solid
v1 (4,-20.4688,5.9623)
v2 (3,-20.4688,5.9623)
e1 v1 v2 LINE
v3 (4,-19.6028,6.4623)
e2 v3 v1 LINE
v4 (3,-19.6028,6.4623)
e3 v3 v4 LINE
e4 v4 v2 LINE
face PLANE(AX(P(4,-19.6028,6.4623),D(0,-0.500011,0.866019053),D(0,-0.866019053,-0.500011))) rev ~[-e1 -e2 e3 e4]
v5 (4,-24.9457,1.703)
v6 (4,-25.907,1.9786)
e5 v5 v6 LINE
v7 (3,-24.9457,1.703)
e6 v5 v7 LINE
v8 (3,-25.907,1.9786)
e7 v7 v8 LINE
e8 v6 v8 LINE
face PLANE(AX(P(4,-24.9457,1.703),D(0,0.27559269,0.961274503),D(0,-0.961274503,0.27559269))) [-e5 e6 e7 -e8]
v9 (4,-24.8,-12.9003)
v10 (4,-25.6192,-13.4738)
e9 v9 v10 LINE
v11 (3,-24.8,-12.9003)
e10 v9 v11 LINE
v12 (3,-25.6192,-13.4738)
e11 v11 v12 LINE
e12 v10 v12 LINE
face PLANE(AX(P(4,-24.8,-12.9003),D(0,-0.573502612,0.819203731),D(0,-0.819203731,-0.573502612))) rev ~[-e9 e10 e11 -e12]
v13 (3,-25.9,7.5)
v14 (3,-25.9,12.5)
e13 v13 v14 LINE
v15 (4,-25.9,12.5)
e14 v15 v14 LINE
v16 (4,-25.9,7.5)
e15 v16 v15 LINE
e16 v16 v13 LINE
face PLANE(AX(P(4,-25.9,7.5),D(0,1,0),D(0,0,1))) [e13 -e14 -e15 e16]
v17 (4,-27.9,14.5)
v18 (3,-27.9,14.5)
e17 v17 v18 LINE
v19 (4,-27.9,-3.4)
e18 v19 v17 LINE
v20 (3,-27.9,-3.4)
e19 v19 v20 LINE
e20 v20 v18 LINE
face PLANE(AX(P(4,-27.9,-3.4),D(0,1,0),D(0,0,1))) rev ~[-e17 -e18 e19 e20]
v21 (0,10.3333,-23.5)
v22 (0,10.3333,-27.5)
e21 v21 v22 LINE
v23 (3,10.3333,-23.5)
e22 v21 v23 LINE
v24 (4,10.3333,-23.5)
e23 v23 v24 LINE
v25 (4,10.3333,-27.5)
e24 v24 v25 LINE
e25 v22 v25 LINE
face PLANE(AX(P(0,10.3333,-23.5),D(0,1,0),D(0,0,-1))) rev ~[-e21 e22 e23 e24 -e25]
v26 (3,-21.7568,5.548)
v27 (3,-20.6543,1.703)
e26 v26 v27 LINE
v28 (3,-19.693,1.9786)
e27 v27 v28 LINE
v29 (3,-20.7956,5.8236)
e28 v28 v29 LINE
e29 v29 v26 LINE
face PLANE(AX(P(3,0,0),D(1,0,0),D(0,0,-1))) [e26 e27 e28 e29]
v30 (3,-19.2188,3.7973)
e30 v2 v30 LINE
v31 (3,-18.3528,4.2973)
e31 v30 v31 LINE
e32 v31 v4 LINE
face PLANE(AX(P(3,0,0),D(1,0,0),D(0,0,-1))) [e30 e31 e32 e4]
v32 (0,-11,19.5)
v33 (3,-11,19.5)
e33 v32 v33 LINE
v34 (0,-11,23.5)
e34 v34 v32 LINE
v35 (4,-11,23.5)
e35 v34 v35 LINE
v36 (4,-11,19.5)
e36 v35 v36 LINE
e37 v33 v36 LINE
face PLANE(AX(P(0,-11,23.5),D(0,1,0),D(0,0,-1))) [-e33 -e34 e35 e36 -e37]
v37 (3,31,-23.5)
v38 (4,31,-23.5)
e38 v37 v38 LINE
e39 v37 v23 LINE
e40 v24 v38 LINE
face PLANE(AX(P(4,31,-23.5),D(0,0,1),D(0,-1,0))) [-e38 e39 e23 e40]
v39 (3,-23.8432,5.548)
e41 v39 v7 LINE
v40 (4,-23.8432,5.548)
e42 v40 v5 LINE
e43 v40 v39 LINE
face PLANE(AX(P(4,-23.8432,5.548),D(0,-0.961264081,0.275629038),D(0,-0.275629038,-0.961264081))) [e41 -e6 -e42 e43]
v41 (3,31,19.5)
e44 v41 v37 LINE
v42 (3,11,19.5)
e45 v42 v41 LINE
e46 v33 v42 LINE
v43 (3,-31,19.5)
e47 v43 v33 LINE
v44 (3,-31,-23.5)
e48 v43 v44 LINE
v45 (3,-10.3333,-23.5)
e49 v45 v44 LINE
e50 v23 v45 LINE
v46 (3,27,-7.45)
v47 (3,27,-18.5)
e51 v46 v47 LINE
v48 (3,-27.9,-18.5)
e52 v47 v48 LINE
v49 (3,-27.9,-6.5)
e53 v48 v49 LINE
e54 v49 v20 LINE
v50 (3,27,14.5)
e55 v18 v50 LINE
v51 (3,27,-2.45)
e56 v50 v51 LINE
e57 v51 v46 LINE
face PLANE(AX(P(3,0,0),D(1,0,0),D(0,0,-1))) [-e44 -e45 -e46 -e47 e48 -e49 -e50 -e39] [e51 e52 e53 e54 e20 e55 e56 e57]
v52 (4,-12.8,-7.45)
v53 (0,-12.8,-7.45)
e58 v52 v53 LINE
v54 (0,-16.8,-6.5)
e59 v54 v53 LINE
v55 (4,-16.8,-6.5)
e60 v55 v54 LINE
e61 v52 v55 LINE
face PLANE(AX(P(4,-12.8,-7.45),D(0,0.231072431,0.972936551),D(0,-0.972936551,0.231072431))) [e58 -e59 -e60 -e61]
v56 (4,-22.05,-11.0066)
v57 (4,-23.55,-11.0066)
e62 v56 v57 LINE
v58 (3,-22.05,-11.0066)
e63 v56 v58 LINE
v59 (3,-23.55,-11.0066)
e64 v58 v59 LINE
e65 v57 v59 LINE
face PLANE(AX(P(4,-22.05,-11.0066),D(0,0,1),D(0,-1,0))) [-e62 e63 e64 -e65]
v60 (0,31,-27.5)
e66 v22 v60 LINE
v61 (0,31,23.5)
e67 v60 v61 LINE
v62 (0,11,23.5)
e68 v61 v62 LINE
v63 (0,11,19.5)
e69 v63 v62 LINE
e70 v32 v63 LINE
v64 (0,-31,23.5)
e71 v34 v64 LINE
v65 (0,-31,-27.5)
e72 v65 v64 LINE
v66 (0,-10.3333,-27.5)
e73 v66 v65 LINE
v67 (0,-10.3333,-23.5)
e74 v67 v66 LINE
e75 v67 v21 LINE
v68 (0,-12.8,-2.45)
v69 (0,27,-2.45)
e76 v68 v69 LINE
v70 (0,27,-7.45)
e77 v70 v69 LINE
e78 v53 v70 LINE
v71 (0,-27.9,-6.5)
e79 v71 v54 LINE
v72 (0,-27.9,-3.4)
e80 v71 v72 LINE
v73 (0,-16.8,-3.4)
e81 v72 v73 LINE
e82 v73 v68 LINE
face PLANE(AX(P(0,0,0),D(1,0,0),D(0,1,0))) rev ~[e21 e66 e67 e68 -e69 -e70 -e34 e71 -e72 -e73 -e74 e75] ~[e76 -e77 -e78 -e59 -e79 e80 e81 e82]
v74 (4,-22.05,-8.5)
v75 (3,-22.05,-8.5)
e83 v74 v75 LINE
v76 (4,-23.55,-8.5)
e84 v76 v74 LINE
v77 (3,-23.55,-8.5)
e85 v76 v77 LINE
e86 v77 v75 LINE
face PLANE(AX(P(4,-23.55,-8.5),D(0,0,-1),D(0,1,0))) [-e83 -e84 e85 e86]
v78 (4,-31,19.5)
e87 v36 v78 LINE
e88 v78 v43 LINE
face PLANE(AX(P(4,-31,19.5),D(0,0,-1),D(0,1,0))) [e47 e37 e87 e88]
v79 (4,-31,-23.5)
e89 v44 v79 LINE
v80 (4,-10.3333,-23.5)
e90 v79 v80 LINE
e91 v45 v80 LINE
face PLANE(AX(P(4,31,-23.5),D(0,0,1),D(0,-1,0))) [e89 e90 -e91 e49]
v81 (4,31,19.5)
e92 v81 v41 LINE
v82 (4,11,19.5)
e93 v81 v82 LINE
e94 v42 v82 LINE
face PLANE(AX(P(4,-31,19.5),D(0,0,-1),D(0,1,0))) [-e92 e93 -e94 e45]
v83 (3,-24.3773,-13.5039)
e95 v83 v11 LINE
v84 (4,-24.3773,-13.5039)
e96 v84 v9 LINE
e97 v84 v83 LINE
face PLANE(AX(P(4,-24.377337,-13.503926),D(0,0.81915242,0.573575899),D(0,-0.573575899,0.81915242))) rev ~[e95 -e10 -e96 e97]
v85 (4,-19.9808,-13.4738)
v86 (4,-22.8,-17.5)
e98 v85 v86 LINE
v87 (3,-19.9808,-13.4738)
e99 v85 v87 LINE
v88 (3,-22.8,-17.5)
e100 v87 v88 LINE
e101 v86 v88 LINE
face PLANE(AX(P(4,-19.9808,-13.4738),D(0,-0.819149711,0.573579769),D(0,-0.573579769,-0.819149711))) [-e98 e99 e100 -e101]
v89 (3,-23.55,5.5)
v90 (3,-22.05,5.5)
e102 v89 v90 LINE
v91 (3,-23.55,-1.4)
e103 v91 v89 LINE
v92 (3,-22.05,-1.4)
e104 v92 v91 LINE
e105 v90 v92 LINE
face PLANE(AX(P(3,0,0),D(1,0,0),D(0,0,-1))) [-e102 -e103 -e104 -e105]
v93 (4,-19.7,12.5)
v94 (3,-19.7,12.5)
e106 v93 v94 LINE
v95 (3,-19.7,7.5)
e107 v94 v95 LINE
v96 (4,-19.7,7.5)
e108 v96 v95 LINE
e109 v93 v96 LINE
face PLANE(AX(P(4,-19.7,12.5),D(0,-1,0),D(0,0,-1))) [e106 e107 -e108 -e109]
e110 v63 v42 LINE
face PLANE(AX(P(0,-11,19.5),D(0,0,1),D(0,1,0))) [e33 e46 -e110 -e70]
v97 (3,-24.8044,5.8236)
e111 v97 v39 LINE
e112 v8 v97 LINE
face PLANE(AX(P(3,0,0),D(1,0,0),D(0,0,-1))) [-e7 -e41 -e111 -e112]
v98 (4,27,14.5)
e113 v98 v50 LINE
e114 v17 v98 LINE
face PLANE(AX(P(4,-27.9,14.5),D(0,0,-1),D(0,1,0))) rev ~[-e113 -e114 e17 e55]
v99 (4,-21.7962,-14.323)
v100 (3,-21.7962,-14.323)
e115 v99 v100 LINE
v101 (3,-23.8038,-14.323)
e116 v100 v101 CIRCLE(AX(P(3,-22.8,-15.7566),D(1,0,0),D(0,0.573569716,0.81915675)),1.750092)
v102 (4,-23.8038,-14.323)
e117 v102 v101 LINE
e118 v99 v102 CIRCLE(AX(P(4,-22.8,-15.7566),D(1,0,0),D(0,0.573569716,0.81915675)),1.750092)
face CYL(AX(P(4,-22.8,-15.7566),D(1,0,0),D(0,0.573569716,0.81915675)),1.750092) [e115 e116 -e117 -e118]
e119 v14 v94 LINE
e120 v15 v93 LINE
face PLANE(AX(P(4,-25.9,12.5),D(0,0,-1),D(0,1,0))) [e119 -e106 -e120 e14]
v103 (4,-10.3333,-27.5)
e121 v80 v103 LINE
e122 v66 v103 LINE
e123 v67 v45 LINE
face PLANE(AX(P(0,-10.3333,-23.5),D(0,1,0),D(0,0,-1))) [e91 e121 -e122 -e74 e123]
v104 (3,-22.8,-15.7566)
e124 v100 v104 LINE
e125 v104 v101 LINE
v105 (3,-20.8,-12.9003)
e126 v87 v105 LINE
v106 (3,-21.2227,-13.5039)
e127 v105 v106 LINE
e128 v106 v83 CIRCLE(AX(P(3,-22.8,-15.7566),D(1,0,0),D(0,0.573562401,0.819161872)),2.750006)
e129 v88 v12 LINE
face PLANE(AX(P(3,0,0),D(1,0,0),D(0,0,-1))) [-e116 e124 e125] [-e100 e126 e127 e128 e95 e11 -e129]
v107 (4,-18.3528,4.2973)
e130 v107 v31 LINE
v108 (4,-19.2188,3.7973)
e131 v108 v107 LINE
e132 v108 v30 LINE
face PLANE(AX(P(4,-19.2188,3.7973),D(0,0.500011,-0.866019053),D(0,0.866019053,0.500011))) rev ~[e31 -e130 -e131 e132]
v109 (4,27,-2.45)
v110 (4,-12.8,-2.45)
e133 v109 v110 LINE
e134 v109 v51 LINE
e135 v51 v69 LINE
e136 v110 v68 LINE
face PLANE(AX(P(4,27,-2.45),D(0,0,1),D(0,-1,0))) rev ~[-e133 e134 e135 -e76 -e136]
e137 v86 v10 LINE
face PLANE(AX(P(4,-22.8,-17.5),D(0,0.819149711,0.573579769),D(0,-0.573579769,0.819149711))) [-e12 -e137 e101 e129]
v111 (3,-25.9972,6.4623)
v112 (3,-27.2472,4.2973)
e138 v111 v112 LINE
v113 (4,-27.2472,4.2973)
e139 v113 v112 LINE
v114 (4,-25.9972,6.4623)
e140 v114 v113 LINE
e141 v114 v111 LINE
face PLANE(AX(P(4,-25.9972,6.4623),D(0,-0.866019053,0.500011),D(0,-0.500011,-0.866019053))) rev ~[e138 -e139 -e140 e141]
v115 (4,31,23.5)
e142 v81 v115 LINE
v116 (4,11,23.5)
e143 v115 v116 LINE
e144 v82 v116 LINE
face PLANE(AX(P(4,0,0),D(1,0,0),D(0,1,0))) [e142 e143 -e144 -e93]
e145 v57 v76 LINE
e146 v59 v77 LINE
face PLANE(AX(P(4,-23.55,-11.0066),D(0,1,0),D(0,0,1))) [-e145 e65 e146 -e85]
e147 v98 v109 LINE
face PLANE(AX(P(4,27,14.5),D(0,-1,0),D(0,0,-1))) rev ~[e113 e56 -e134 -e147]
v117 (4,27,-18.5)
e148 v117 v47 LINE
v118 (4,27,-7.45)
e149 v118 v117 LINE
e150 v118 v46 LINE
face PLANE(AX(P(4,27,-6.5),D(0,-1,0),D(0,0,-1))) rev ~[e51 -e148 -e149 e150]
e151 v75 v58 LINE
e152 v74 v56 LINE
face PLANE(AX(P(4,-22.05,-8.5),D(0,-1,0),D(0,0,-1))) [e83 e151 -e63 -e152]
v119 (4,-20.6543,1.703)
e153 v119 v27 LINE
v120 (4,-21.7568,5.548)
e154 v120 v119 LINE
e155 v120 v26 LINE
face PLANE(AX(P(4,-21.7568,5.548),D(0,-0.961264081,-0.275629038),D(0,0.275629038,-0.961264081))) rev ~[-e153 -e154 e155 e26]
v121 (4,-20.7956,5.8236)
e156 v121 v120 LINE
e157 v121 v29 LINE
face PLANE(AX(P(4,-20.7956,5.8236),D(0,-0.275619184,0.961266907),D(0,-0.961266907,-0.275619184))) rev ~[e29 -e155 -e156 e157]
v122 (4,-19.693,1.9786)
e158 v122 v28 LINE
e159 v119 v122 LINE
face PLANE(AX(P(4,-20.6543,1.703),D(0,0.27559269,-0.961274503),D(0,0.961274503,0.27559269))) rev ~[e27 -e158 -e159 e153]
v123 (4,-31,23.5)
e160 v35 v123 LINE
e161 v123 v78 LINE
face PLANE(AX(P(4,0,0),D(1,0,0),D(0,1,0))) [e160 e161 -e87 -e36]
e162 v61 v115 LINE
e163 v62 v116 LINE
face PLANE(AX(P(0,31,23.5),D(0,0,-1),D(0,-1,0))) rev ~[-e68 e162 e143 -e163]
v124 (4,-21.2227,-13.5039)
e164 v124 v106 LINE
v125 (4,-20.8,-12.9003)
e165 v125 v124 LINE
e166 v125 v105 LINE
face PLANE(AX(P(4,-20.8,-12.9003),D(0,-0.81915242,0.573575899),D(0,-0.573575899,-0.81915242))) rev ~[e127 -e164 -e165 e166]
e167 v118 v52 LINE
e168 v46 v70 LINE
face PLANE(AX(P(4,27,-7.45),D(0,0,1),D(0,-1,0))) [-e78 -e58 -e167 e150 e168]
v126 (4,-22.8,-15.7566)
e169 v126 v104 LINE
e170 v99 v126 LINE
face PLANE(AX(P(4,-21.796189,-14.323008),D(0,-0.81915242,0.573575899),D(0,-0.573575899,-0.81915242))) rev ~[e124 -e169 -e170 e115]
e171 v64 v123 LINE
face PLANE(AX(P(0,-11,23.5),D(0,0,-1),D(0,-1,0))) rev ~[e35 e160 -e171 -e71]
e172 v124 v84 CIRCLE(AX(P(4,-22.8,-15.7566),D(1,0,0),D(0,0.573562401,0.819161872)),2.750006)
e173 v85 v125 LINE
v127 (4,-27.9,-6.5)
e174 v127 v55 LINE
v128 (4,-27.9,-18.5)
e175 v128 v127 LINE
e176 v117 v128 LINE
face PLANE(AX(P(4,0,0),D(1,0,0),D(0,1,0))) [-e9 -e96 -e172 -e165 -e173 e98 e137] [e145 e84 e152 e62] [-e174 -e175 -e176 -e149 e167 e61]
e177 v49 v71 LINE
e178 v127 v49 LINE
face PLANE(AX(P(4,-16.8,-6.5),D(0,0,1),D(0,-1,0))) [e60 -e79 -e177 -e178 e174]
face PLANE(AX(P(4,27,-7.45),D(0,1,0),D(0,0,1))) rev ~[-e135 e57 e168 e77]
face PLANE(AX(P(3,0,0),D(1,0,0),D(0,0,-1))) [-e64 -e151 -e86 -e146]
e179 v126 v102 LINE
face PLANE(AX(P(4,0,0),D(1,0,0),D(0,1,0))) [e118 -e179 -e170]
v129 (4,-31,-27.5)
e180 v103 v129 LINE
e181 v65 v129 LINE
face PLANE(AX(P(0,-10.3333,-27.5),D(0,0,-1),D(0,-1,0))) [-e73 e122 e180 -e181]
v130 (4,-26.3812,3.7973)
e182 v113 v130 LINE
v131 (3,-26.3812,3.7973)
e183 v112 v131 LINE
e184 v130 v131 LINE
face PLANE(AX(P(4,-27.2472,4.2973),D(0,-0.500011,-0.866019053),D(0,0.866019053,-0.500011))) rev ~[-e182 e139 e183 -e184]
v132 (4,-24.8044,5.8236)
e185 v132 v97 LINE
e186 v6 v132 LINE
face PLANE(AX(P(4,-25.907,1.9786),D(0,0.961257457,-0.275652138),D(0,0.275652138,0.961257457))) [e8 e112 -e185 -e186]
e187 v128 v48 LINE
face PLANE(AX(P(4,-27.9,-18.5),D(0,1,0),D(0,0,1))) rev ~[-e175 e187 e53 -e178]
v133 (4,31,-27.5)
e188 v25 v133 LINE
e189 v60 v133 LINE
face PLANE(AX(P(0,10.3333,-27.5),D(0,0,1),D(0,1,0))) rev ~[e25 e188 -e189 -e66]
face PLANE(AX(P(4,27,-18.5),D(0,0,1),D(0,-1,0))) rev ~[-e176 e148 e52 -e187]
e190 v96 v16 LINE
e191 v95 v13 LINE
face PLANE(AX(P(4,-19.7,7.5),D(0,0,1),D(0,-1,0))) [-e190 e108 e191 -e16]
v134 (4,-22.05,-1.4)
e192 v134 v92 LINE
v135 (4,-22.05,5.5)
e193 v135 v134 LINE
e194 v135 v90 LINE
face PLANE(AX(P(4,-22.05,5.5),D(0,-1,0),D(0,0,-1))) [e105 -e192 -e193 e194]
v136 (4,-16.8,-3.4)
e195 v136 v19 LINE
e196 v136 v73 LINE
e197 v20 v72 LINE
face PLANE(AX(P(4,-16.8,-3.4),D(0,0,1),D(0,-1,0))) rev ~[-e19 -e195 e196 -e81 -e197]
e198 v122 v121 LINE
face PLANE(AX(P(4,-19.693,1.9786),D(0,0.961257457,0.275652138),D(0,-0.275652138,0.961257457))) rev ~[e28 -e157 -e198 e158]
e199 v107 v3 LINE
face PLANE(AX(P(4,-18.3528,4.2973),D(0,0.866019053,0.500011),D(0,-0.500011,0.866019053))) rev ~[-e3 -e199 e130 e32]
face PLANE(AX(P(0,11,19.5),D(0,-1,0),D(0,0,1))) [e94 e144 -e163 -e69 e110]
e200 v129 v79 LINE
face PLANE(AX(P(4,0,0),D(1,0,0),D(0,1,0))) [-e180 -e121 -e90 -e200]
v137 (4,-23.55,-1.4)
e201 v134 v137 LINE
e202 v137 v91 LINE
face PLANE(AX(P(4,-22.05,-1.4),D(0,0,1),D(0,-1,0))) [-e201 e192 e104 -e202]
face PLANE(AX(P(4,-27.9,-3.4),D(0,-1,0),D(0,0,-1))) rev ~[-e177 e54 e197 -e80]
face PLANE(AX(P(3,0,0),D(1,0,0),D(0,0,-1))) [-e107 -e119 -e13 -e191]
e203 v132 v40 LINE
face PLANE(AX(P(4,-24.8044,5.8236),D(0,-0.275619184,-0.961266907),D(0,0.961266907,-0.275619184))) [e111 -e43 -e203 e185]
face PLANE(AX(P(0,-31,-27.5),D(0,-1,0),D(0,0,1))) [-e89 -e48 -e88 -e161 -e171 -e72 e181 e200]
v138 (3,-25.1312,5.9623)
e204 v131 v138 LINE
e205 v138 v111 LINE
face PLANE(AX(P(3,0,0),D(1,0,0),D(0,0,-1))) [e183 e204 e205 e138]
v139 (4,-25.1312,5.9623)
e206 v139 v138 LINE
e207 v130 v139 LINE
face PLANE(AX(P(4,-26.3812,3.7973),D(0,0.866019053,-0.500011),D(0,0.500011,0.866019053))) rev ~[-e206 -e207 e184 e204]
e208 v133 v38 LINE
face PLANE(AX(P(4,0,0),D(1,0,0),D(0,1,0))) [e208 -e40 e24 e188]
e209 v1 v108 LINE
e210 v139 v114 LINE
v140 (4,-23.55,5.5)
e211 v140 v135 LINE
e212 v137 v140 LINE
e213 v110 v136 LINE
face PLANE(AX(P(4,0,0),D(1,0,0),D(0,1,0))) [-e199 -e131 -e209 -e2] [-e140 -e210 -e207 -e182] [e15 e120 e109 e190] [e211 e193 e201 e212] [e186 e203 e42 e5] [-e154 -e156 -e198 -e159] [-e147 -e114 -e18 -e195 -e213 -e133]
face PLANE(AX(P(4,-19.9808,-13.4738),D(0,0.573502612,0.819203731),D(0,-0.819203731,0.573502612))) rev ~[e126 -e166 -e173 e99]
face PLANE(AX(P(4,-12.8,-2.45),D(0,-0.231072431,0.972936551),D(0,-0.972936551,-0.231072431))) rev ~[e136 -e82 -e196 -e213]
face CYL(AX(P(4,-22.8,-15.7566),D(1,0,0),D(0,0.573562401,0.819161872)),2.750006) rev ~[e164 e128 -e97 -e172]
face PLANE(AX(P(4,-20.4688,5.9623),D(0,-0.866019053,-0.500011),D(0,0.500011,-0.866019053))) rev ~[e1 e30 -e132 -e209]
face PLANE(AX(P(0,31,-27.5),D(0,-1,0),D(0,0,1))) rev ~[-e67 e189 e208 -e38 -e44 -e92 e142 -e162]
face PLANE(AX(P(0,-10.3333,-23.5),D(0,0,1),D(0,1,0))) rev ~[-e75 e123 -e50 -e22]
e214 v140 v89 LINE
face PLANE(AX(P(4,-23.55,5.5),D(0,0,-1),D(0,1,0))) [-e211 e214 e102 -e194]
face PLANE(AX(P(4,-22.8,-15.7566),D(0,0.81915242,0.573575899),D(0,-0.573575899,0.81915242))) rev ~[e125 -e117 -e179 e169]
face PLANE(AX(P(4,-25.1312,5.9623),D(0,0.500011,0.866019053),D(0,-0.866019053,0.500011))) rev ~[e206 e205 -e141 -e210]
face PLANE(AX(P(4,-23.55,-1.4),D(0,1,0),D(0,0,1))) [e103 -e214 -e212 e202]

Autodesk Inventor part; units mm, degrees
ref_plane "YZ Plane" through (0, 0, 0) normal (1, 0, 0) x (0, 1, 0)
ref_plane "XZ Plane" through (0, 0, 0) normal (0, 1, 0) x (-1, 0, 0)
ref_plane "XY Plane" through (0, 0, 0) normal (0, 0, 1) x (1, 0, 0)
sketch "Sketch1" plane through (0, 0, 0) normal (1, 0, 0) x (0, 1, 0)
  line L0 (-31, -23.5) -> (-10.3333, -23.5) construction
  line L1 (31, -23.5) -> (31, 23.5)
  line L2 (31, 23.5) -> (11, 23.5)
  line L3 (-31, 23.5) -> (-31, -23.5)
  line L4 (-31, -23.5) -> (31, 23.5) construction
  line L5 (31, -23.5) -> (-31, 23.5) construction
  line L6 (-11, 23.5) -> (-11, 19.5)
  line L7 (-11, 19.5) -> (11, 19.5)
  line L8 (11, 19.5) -> (11, 23.5)
  line L9 (11, 23.5) -> (-11, 23.5) construction
  line L10 (-11, 23.5) -> (-31, 23.5)
  line L11 (31, -23.5) -> (10.3333, -23.5) construction
  line L12 (10.3333, -23.5) -> (10.3333, -27.5)
  line L13 (10.3333, -27.5) -> (31, -27.5)
  line L14 (31, -27.5) -> (31, -23.5)
  line L15 (-31, -23.5) -> (-10.3333, -23.5) construction
  line L16 (-10.3333, -23.5) -> (-10.3333, -27.5)
  line L17 (-10.3333, -27.5) -> (-31, -27.5)
  line L18 (-31, -27.5) -> (-31, -23.5)
  line L19 (10.3333, -23.5) -> (31, -23.5) construction
  line L20 (-10.3333, -23.5) -> (10.3333, -23.5)
  point P0 (0, 0)
  point P1 (11, 21.5)
  dimension "d0" = 62
  dimension "d1" = 47
  dimension "d2" = 20
  dimension "d3" = 4
  dimension "d5" = 4
extrude "Outline" add sketch "Sketch1" along normal blind 4
sketch "Sketch2" plane through (4, 0, 0) normal (1, 0, 0) x (0, 0, -1)
  line L0 (3.4, 27) -> (3.4, -27.9)
  line L1 (3.4, -27.9) -> (6.5, -27.9)
  line L2 (6.5, -27.9) -> (6.5, 27)
  line L3 (6.5, 27) -> (3.4, 27)
  line L4 (-14.5, -0.45) -> (-5.55, -0.45) construction
  line L5 (-5.55, -0.45) -> (3.4, -0.45) construction
  line L6 (18.5, -0.45) -> (6.5, -0.45) construction
  line L7 (-19.5, 31) -> (23.5, 31)
  line L8 (23.5, 31) -> (23.5, -31)
  line L9 (-19.5, -31) -> (-19.5, 31)
  line L10 (-14.5, 27) -> (18.5, 27)
  line L11 (18.5, 27) -> (18.5, -27.9)
  line L12 (18.5, -27.9) -> (-14.5, -27.9)
  line L13 (-14.5, -27.9) -> (-14.5, 27)
  line L14 (-12.5, -19.7) -> (-7.5, -19.7)
  line L15 (-7.5, -19.7) -> (-7.5, -25.9)
  line L16 (-7.5, -25.9) -> (-12.5, -25.9)
  line L17 (-12.5, -25.9) -> (-12.5, -19.7)
  line L18 (-5.5, -22.05) -> (1.4, -22.05)
  line L19 (1.4, -22.05) -> (1.4, -23.55)
  line L20 (1.4, -23.55) -> (-5.5, -23.55)
  line L21 (-5.5, -23.55) -> (-5.5, -22.05)
  line L22 (13.4738, -19.9808) -> (17.5, -22.8)
  line L23 (17.5, -22.8) -> (13.4738, -25.6192)
  line L24 (13.4738, -19.9808) -> (12.9003, -20.8)
  line L25 (12.9003, -20.8) -> (15.7566, -22.8)
  line L26 (15.7566, -22.8) -> (12.9003, -24.8)
  line L27 (12.9003, -24.8) -> (13.4738, -25.6192)
  line L28 (-12.5, -22.8) -> (15.7566, -22.8) construction
  arc A0 (13.5039, -21.2227) -> (13.5039, -24.3773) centre (15.7566, -22.8) ccw
  arc A1 (14.323, -21.7962) -> (14.323, -23.8038) centre (15.7566, -22.8) ccw
  line L29 (8.5, -22.05) -> (11.0066, -22.05)
  line L30 (11.0066, -22.05) -> (11.0066, -23.55)
  line L31 (11.0066, -23.55) -> (8.5, -23.55)
  line L32 (8.5, -23.55) -> (8.5, -22.05)
  line L33 (-5.8236, -20.7956) -> (-5.548, -21.7568)
  line L34 (-5.548, -21.7568) -> (-1.703, -20.6543)
  line L35 (-1.703, -20.6543) -> (-1.9786, -19.693)
  line L36 (-1.9786, -19.693) -> (-5.8236, -20.7956)
  line L37 (-5.548, -23.8432) -> (-1.703, -24.9457)
  line L38 (-1.703, -24.9457) -> (-1.9786, -25.907)
  line L39 (-1.9786, -25.907) -> (-5.8236, -24.8044)
  line L40 (-5.8236, -24.8044) -> (-5.548, -23.8432)
  circle A2 centre (-11, -22.8) radius 5.5509 construction
  line L41 (-6.4623, -19.6028) -> (-5.9623, -20.4688)
  line L42 (-5.9623, -20.4688) -> (-3.7973, -19.2188)
  line L43 (-3.7973, -19.2188) -> (-4.2973, -18.3528)
  line L44 (-4.2973, -18.3528) -> (-6.4623, -19.6028)
  line L45 (-5.9623, -25.1312) -> (-6.4623, -25.9972)
  line L46 (-6.4623, -25.9972) -> (-4.2973, -27.2472)
  line L47 (-4.2973, -27.2472) -> (-3.7973, -26.3812)
  line L48 (-3.7973, -26.3812) -> (-5.9623, -25.1312)
  line L49 (23.5, 10.3333) -> (27.5, 10.3333) projected
  line L50 (27.5, 10.3333) -> (27.5, 31) projected
  line L51 (27.5, 31) -> (-23.5, 31) projected
  line L52 (-23.5, 31) -> (-23.5, 11) projected
  line L53 (-23.5, 11) -> (-19.5, 11) projected
  line L54 (-19.5, 11) -> (-19.5, -11) projected
  line L55 (-19.5, -11) -> (-23.5, -11) projected
  line L56 (-23.5, -11) -> (-23.5, -31) projected
  line L57 (-23.5, -31) -> (27.5, -31) projected
  line L58 (27.5, -31) -> (27.5, -10.3333) projected
  line L59 (27.5, -10.3333) -> (23.5, -10.3333) projected
  line L60 (23.5, -10.3333) -> (23.5, 10.3333) projected
  point P0 (0, 0)
  point P1 (-7.5, -22.8)
  point P2 (-5.5, -22.8)
  point P3 (13.0066, -22.8)
  point P4 (6.5, 27)
  point P5 (3.4, 27)
  dimension "d14" = 3.1
  dimension "d17" = 5
  dimension "d19" = 5
  dimension "d22" = 35
  dimension "d23" = 35
  dimension "d24" = 4
  dimension "d25" = 1
  dimension "d26" = 1
  dimension "d27" = 2.75
  dimension "d29" = 1
  dimension "d30" = 1.5
  dimension "d31" = 2
  dimension "d32" = 2
  dimension "d33" = 2
  dimension "d34" = 2
  dimension "d35" = 2
  dimension "d36" = 5
  dimension "d37" = 2
  dimension "d38" = 1
  dimension "d39" = 1
  dimension "d42" = 3.5
  dimension "d43" = 16
  dimension "d44" = 16
  dimension "d45" = 4
  dimension "d47" = 2.5
  dimension "d48" = 1
  dimension "d49" = 14
  dimension "d50" = 14
  dimension "d51" = 1
  dimension "d52" = 2.5
  dimension "d62" = 12
  dimension "d65" = 6.2
  dimension "d66" = 4
  dimension "d67" = 3.1
extrude "Engravings" cut sketch "Sketch2" against normal blind 1 contours L3 L2 L1 L0 | L7 L8 L57 L9 | L14 L15 L16 L17 | L18 L19 L20 L21 | L22 L23 L27 L26 L25 L24 | L25 A1 L26 A0 | L29 L30 L31 L32 | L36 L35 L34 L33 | L37 L38 L39 L40 | L44 L43 L42 L41 | L48 L47 L46 L45
sketch "Sketch3" plane through (4, 0, 0) normal (1, 0, 0) x (0, 0, -1)
  line L0 (-7.5, -19.7) -> (-7.5, -25.9) projected
  line L1 (-7.5, -25.9) -> (-12.5, -25.9) projected
  line L2 (-12.5, -25.9) -> (-12.5, -19.7) projected
  line L3 (-12.5, -19.7) -> (-7.5, -19.7) projected
  line L4 (-3.7973, -26.3812) -> (-4.2973, -27.2472) projected
  line L5 (-4.2973, -27.2472) -> (-6.4623, -25.9972) projected
  line L6 (-6.4623, -25.9972) -> (-5.9623, -25.1312) projected
  line L7 (-5.9623, -25.1312) -> (-3.7973, -26.3812) projected
  line L8 (1.4, -22.05) -> (1.4, -23.55)
  line L9 (1.4, -23.55) -> (-5.5, -23.55) projected
  line L10 (-5.5, -23.55) -> (-5.5, -22.05) projected
  line L11 (-5.5, -22.05) -> (1.4, -22.05) projected
  line L12 (-4.2973, -18.3528) -> (-3.7973, -19.2188) projected
  line L13 (-3.7973, -19.2188) -> (-5.9623, -20.4688) projected
  line L14 (-5.9623, -20.4688) -> (-6.4623, -19.6028) projected
  line L15 (-6.4623, -19.6028) -> (-4.2973, -18.3528) projected
  line L16 (-1.9786, -19.693) -> (-1.703, -20.6543) projected
  line L17 (-1.703, -20.6543) -> (-5.548, -21.7568) projected
  line L18 (-5.548, -21.7568) -> (-5.8236, -20.7956) projected
  line L19 (-5.8236, -20.7956) -> (-1.9786, -19.693) projected
  line L20 (-1.703, -24.9457) -> (-1.9786, -25.907) projected
  line L21 (-1.9786, -25.907) -> (-5.8236, -24.8044) projected
  line L22 (-5.8236, -24.8044) -> (-5.548, -23.8432) projected
  line L23 (-5.548, -23.8432) -> (-1.703, -24.9457) projected
  line L24 (23.5, -31) -> (-19.5, -31) projected
  line L25 (23.5, 31) -> (23.5, 10.3333) projected
  line L26 (-19.5, 31) -> (23.5, 31) projected
  line L27 (-19.5, -11) -> (-19.5, 11) projected
  line L28 (18.5, -27.9) -> (18.5, 27) projected
  line L29 (-14.5, 27) -> (-14.5, -27.9) projected
  line L30 (3.4, -27.9) -> (6.5, -27.9)
  line L31 (2.45, 27) -> (2.45, -12.8)
  line L32 (2.45, -12.8) -> (3.4, -16.8)
  line L33 (7.45, 27) -> (7.45, -12.8)
  line L34 (7.45, -12.8) -> (6.5, -16.8)
  line L35 (6.5, -16.8) -> (6.5, -27.9)
  line L36 (-19.5, -31) -> (-19.5, -11) projected
  line L37 (23.5, 10.3333) -> (23.5, -10.3333) projected
  line L38 (-19.5, 11) -> (-19.5, 31) projected
  line L39 (23.5, -10.3333) -> (27.5, -10.3333) projected
  line L40 (27.5, -10.3333) -> (27.5, -31) projected
  line L41 (-14.5, -27.9) -> (18.5, -27.9) projected
  line L42 (3.4, -27.9) -> (3.4, 27) construction
  line L43 (6.5, 27) -> (6.5, -27.9) construction
  line L44 (18.5, 27) -> (6.5, 27) projected
  line L45 (3.4, 27) -> (-14.5, 27) projected
  line L46 (3.4, 27) -> (6.5, 27)
  line L47 (3.4, -27.9) -> (3.4, 27) construction
  line L48 (3.4, -16.8) -> (3.4, -27.9)
  point P0 (0, 0)
  dimension "d68" = 5
  dimension "d69" = 11.1
  dimension "d70" = 4
extrude "Groove" cut sketch "Sketch3" against normal up to next contours L30 L48 L32 L31 L45 L46 L44 L33 L34 L35
sketch "Sketch4" plane through (3, 0, 0) normal (1, 0, 0) x (0, 0, -1)
  line L0 (-7.5, -25.9) -> (-7.5, -19.7) projected
  line L1 (-7.5, -19.7) -> (-12.5, -19.7) projected
  line L2 (-12.5, -19.7) -> (-12.5, -25.9) projected
  line L3 (-12.5, -25.9) -> (-7.5, -25.9) projected
  line L4 (-4.2973, -27.2472) -> (-3.7973, -26.3812) projected
  line L5 (-3.7973, -26.3812) -> (-5.9623, -25.1312) projected
  line L6 (-5.9623, -25.1312) -> (-6.4623, -25.9972) projected
  line L7 (-6.4623, -25.9972) -> (-4.2973, -27.2472) projected
  line L8 (14.323, -21.7962) -> (15.7566, -22.8) projected
  line L9 (15.7566, -22.8) -> (14.323, -23.8038) projected
  arc A0 (14.323, -21.7962) -> (14.323, -23.8038) centre (15.7566, -22.8) ccw projected
  line L10 (13.4738, -25.6192) -> (17.5, -22.8) projected
  line L11 (17.5, -22.8) -> (13.4738, -19.9808) projected
  line L12 (13.4738, -19.9808) -> (12.9003, -20.8) projected
  line L13 (12.9003, -20.8) -> (13.5039, -21.2227) projected
  arc A1 (13.5039, -21.2227) -> (13.5039, -24.3773) centre (15.7566, -22.8) ccw projected
  line L14 (13.5039, -24.3773) -> (12.9003, -24.8) projected
  line L15 (12.9003, -24.8) -> (13.4738, -25.6192) projected
  line L16 (1.4, -23.55) -> (1.4, -22.05) projected
  line L17 (1.4, -22.05) -> (-5.5, -22.05) projected
  line L18 (-5.5, -22.05) -> (-5.5, -23.55) projected
  line L19 (-5.5, -23.55) -> (1.4, -23.55) projected
  line L20 (27.5, 10.3333) -> (23.5, 10.3333) projected
  line L21 (27.5, 31) -> (27.5, 10.3333) projected
  line L22 (-23.5, 31) -> (-19.5, 31) projected
  line L23 (-19.5, -31) -> (-23.5, -31) projected
  line L24 (-23.5, 11) -> (-23.5, 31) projected
  line L25 (-19.5, 11) -> (-23.5, 11) projected
  line L26 (-23.5, -31) -> (-23.5, -11) projected
  line L27 (-23.5, -11) -> (-19.5, -11) projected
  line L28 (-3.7973, -19.2188) -> (-4.2973, -18.3528) projected
  line L29 (-4.2973, -18.3528) -> (-6.4623, -19.6028) projected
  line L30 (-6.4623, -19.6028) -> (-5.9623, -20.4688) projected
  line L31 (-5.9623, -20.4688) -> (-3.7973, -19.2188) projected
  line L32 (11.0066, -23.55) -> (11.0066, -22.05) projected
  line L33 (11.0066, -22.05) -> (8.5, -22.05) projected
  line L34 (8.5, -22.05) -> (8.5, -23.55) projected
  line L35 (8.5, -23.55) -> (11.0066, -23.55) projected
  line L36 (-1.703, -20.6543) -> (-1.9786, -19.693) projected
  line L37 (-1.9786, -19.693) -> (-5.8236, -20.7956) projected
  line L38 (-5.8236, -20.7956) -> (-5.548, -21.7568) projected
  line L39 (-5.548, -21.7568) -> (-1.703, -20.6543) projected
  line L40 (-1.9786, -25.907) -> (-1.703, -24.9457) projected
  line L41 (-1.703, -24.9457) -> (-5.548, -23.8432) projected
  line L42 (-5.548, -23.8432) -> (-5.8236, -24.8044) projected
  line L43 (-5.8236, -24.8044) -> (-1.9786, -25.907) projected
  line L44 (18.5, 27) -> (18.5, -27.9) projected
  line L45 (-14.5, -27.9) -> (-14.5, 27) projected
  line L46 (3.4, -27.9) -> (-14.5, -27.9) projected
  line L47 (23.5, -31) -> (-19.5, -31) projected
  line L48 (-19.5, -11) -> (-19.5, -31) projected
  line L49 (-19.5, -11) -> (-19.5, 11) projected
  line L50 (-19.5, 31) -> (-19.5, 11) projected
  line L51 (-19.5, 31) -> (23.5, 31) projected
  line L52 (23.5, 10.3333) -> (23.5, 31) projected
  line L53 (23.5, 10.3333) -> (23.5, -10.3333) projected
  line L54 (23.5, 31) -> (27.5, 31) projected
  line L55 (-14.5, 27) -> (2.45, 27) projected
  line L56 (7.45, 27) -> (18.5, 27) projected
  line L57 (18.5, -27.9) -> (6.5, -27.9) projected
  line L58 (7.45, 27) -> (2.45, 27) projected
  line L59 (7.45, -12.8) -> (7.45, 27) projected
  line L60 (6.5, -16.8) -> (7.45, -12.8) projected
  line L61 (6.5, -27.9) -> (6.5, -16.8) projected
  line L62 (3.4, -16.8) -> (3.4, -27.9) projected
  line L63 (2.45, -12.8) -> (3.4, -16.8) projected
  line L64 (2.45, 27) -> (2.45, -12.8) projected
  line L65 (3.4, -27.9) -> (6.5, -27.9) projected
  line L66 (23.5, -31) -> (23.5, -10.3333) projected
  line L67 (27.5, -31) -> (23.5, -31) projected
  line L68 (27.5, -10.3333) -> (27.5, -31) projected
  line L69 (23.5, -10.3333) -> (27.5, -10.3333) projected
  point P0 (0, 0)
sketch "Sketch5" plane through (3, 0, 0) normal (1, 0, 0) x (0, 0, -1)
  line L0 (-1.9786, -25.907) -> (-1.703, -24.9457) projected
  line L1 (-1.703, -24.9457) -> (-5.548, -23.8432) projected
  line L2 (-5.548, -23.8432) -> (-5.8236, -24.8044) projected
  line L3 (-5.8236, -24.8044) -> (-1.9786, -25.907) projected
  line L4 (-7.5, -25.9) -> (-7.5, -19.7) projected
  line L5 (-7.5, -19.7) -> (-12.5, -19.7) projected
  line L6 (-12.5, -19.7) -> (-12.5, -25.9) projected
  line L7 (-12.5, -25.9) -> (-7.5, -25.9) projected
  line L8 (1.4, -23.55) -> (1.4, -22.05) projected
  line L9 (1.4, -22.05) -> (-5.5, -22.05) projected
  line L10 (-5.5, -22.05) -> (-5.5, -23.55) projected
  line L11 (-5.5, -23.55) -> (1.4, -23.55) projected
  line L12 (-4.2973, -27.2472) -> (-3.7973, -26.3812) projected
  line L13 (-3.7973, -26.3812) -> (-5.9623, -25.1312) projected
  line L14 (-5.9623, -25.1312) -> (-6.4623, -25.9972) projected
  line L15 (-6.4623, -25.9972) -> (-4.2973, -27.2472) projected
  line L16 (-14.5, -27.9) -> (-14.5, 27) projected
  line L17 (-14.5, 27) -> (2.45, 27) projected
  line L18 (7.45, 27) -> (2.45, 27) projected
  line L19 (7.45, -12.8) -> (7.45, 27) projected
  line L20 (6.5, -16.8) -> (7.45, -12.8) projected
  line L21 (6.5, -27.9) -> (6.5, -16.8) projected
  line L22 (3.4, -27.9) -> (6.5, -27.9) projected
  line L23 (3.4, -16.8) -> (3.4, -27.9) projected
  line L24 (2.45, -12.8) -> (3.4, -16.8) projected
  line L25 (2.45, 27) -> (2.45, -12.8) projected
  line L26 (3.4, -27.9) -> (-14.5, -27.9) projected
  line L27 (7.45, 27) -> (18.5, 27) projected
  line L28 (18.5, 27) -> (18.5, -27.9) projected
  line L29 (18.5, -27.9) -> (6.5, -27.9) projected
  line L30 (23.5, -31) -> (23.5, -10.3333) projected
  line L31 (23.5, 10.3333) -> (23.5, -10.3333) projected
  line L32 (23.5, 10.3333) -> (23.5, 31) projected
  line L33 (-19.5, 31) -> (23.5, 31) projected
  line L34 (-19.5, 31) -> (-19.5, 11) projected
  line L35 (-19.5, -11) -> (-19.5, 11) projected
  line L36 (-19.5, -11) -> (-19.5, -31) projected
  line L37 (23.5, -31) -> (-19.5, -31) projected
  line L38 (27.5, -31) -> (23.5, -31) projected
  line L39 (27.5, -10.3333) -> (27.5, -31) projected
  line L40 (23.5, -10.3333) -> (27.5, -10.3333) projected
  line L41 (27.5, 10.3333) -> (23.5, 10.3333) projected
  line L42 (27.5, 31) -> (27.5, 10.3333) projected
  line L43 (23.5, 31) -> (27.5, 31) projected
  line L44 (-23.5, 31) -> (-19.5, 31) projected
  line L45 (-23.5, 11) -> (-23.5, 31) projected
  line L46 (-19.5, 11) -> (-23.5, 11) projected
  line L47 (-23.5, -11) -> (-19.5, -11) projected
  line L48 (-23.5, -31) -> (-23.5, -11) projected
  line L49 (-19.5, -31) -> (-23.5, -31) projected
  line L50 (-1.703, -20.6543) -> (-1.9786, -19.693) projected
  line L51 (-1.9786, -19.693) -> (-5.8236, -20.7956) projected
  line L52 (-5.8236, -20.7956) -> (-5.548, -21.7568) projected
  line L53 (-5.548, -21.7568) -> (-1.703, -20.6543) projected
  line L54 (14.323, -21.7962) -> (15.7566, -22.8) projected
  line L55 (15.7566, -22.8) -> (14.323, -23.8038) projected
  arc A0 (14.323, -21.7962) -> (14.323, -23.8038) centre (15.7566, -22.8) ccw projected
  line L56 (13.4738, -25.6192) -> (17.5, -22.8) projected
  line L57 (17.5, -22.8) -> (13.4738, -19.9808) projected
  line L58 (13.4738, -19.9808) -> (12.9003, -20.8) projected
  line L59 (12.9003, -20.8) -> (13.5039, -21.2227) projected
  arc A1 (13.5039, -21.2227) -> (13.5039, -24.3773) centre (15.7566, -22.8) ccw projected
  line L60 (13.5039, -24.3773) -> (12.9003, -24.8) projected
  line L61 (12.9003, -24.8) -> (13.4738, -25.6192) projected
  line L62 (11.0066, -23.55) -> (11.0066, -22.05) projected
  line L63 (11.0066, -22.05) -> (8.5, -22.05) projected
  line L64 (8.5, -22.05) -> (8.5, -23.55) projected
  line L65 (8.5, -23.55) -> (11.0066, -23.55) projected
  line L66 (-3.7973, -19.2188) -> (-4.2973, -18.3528) projected
  line L67 (-4.2973, -18.3528) -> (-6.4623, -19.6028) projected
  line L68 (-6.4623, -19.6028) -> (-5.9623, -20.4688) projected
  line L69 (-5.9623, -20.4688) -> (-3.7973, -19.2188) projected
  point P0 (0, 0)
properties part number "LightGate_Door_V1" material "MDF Medium Density Fiberboard"
